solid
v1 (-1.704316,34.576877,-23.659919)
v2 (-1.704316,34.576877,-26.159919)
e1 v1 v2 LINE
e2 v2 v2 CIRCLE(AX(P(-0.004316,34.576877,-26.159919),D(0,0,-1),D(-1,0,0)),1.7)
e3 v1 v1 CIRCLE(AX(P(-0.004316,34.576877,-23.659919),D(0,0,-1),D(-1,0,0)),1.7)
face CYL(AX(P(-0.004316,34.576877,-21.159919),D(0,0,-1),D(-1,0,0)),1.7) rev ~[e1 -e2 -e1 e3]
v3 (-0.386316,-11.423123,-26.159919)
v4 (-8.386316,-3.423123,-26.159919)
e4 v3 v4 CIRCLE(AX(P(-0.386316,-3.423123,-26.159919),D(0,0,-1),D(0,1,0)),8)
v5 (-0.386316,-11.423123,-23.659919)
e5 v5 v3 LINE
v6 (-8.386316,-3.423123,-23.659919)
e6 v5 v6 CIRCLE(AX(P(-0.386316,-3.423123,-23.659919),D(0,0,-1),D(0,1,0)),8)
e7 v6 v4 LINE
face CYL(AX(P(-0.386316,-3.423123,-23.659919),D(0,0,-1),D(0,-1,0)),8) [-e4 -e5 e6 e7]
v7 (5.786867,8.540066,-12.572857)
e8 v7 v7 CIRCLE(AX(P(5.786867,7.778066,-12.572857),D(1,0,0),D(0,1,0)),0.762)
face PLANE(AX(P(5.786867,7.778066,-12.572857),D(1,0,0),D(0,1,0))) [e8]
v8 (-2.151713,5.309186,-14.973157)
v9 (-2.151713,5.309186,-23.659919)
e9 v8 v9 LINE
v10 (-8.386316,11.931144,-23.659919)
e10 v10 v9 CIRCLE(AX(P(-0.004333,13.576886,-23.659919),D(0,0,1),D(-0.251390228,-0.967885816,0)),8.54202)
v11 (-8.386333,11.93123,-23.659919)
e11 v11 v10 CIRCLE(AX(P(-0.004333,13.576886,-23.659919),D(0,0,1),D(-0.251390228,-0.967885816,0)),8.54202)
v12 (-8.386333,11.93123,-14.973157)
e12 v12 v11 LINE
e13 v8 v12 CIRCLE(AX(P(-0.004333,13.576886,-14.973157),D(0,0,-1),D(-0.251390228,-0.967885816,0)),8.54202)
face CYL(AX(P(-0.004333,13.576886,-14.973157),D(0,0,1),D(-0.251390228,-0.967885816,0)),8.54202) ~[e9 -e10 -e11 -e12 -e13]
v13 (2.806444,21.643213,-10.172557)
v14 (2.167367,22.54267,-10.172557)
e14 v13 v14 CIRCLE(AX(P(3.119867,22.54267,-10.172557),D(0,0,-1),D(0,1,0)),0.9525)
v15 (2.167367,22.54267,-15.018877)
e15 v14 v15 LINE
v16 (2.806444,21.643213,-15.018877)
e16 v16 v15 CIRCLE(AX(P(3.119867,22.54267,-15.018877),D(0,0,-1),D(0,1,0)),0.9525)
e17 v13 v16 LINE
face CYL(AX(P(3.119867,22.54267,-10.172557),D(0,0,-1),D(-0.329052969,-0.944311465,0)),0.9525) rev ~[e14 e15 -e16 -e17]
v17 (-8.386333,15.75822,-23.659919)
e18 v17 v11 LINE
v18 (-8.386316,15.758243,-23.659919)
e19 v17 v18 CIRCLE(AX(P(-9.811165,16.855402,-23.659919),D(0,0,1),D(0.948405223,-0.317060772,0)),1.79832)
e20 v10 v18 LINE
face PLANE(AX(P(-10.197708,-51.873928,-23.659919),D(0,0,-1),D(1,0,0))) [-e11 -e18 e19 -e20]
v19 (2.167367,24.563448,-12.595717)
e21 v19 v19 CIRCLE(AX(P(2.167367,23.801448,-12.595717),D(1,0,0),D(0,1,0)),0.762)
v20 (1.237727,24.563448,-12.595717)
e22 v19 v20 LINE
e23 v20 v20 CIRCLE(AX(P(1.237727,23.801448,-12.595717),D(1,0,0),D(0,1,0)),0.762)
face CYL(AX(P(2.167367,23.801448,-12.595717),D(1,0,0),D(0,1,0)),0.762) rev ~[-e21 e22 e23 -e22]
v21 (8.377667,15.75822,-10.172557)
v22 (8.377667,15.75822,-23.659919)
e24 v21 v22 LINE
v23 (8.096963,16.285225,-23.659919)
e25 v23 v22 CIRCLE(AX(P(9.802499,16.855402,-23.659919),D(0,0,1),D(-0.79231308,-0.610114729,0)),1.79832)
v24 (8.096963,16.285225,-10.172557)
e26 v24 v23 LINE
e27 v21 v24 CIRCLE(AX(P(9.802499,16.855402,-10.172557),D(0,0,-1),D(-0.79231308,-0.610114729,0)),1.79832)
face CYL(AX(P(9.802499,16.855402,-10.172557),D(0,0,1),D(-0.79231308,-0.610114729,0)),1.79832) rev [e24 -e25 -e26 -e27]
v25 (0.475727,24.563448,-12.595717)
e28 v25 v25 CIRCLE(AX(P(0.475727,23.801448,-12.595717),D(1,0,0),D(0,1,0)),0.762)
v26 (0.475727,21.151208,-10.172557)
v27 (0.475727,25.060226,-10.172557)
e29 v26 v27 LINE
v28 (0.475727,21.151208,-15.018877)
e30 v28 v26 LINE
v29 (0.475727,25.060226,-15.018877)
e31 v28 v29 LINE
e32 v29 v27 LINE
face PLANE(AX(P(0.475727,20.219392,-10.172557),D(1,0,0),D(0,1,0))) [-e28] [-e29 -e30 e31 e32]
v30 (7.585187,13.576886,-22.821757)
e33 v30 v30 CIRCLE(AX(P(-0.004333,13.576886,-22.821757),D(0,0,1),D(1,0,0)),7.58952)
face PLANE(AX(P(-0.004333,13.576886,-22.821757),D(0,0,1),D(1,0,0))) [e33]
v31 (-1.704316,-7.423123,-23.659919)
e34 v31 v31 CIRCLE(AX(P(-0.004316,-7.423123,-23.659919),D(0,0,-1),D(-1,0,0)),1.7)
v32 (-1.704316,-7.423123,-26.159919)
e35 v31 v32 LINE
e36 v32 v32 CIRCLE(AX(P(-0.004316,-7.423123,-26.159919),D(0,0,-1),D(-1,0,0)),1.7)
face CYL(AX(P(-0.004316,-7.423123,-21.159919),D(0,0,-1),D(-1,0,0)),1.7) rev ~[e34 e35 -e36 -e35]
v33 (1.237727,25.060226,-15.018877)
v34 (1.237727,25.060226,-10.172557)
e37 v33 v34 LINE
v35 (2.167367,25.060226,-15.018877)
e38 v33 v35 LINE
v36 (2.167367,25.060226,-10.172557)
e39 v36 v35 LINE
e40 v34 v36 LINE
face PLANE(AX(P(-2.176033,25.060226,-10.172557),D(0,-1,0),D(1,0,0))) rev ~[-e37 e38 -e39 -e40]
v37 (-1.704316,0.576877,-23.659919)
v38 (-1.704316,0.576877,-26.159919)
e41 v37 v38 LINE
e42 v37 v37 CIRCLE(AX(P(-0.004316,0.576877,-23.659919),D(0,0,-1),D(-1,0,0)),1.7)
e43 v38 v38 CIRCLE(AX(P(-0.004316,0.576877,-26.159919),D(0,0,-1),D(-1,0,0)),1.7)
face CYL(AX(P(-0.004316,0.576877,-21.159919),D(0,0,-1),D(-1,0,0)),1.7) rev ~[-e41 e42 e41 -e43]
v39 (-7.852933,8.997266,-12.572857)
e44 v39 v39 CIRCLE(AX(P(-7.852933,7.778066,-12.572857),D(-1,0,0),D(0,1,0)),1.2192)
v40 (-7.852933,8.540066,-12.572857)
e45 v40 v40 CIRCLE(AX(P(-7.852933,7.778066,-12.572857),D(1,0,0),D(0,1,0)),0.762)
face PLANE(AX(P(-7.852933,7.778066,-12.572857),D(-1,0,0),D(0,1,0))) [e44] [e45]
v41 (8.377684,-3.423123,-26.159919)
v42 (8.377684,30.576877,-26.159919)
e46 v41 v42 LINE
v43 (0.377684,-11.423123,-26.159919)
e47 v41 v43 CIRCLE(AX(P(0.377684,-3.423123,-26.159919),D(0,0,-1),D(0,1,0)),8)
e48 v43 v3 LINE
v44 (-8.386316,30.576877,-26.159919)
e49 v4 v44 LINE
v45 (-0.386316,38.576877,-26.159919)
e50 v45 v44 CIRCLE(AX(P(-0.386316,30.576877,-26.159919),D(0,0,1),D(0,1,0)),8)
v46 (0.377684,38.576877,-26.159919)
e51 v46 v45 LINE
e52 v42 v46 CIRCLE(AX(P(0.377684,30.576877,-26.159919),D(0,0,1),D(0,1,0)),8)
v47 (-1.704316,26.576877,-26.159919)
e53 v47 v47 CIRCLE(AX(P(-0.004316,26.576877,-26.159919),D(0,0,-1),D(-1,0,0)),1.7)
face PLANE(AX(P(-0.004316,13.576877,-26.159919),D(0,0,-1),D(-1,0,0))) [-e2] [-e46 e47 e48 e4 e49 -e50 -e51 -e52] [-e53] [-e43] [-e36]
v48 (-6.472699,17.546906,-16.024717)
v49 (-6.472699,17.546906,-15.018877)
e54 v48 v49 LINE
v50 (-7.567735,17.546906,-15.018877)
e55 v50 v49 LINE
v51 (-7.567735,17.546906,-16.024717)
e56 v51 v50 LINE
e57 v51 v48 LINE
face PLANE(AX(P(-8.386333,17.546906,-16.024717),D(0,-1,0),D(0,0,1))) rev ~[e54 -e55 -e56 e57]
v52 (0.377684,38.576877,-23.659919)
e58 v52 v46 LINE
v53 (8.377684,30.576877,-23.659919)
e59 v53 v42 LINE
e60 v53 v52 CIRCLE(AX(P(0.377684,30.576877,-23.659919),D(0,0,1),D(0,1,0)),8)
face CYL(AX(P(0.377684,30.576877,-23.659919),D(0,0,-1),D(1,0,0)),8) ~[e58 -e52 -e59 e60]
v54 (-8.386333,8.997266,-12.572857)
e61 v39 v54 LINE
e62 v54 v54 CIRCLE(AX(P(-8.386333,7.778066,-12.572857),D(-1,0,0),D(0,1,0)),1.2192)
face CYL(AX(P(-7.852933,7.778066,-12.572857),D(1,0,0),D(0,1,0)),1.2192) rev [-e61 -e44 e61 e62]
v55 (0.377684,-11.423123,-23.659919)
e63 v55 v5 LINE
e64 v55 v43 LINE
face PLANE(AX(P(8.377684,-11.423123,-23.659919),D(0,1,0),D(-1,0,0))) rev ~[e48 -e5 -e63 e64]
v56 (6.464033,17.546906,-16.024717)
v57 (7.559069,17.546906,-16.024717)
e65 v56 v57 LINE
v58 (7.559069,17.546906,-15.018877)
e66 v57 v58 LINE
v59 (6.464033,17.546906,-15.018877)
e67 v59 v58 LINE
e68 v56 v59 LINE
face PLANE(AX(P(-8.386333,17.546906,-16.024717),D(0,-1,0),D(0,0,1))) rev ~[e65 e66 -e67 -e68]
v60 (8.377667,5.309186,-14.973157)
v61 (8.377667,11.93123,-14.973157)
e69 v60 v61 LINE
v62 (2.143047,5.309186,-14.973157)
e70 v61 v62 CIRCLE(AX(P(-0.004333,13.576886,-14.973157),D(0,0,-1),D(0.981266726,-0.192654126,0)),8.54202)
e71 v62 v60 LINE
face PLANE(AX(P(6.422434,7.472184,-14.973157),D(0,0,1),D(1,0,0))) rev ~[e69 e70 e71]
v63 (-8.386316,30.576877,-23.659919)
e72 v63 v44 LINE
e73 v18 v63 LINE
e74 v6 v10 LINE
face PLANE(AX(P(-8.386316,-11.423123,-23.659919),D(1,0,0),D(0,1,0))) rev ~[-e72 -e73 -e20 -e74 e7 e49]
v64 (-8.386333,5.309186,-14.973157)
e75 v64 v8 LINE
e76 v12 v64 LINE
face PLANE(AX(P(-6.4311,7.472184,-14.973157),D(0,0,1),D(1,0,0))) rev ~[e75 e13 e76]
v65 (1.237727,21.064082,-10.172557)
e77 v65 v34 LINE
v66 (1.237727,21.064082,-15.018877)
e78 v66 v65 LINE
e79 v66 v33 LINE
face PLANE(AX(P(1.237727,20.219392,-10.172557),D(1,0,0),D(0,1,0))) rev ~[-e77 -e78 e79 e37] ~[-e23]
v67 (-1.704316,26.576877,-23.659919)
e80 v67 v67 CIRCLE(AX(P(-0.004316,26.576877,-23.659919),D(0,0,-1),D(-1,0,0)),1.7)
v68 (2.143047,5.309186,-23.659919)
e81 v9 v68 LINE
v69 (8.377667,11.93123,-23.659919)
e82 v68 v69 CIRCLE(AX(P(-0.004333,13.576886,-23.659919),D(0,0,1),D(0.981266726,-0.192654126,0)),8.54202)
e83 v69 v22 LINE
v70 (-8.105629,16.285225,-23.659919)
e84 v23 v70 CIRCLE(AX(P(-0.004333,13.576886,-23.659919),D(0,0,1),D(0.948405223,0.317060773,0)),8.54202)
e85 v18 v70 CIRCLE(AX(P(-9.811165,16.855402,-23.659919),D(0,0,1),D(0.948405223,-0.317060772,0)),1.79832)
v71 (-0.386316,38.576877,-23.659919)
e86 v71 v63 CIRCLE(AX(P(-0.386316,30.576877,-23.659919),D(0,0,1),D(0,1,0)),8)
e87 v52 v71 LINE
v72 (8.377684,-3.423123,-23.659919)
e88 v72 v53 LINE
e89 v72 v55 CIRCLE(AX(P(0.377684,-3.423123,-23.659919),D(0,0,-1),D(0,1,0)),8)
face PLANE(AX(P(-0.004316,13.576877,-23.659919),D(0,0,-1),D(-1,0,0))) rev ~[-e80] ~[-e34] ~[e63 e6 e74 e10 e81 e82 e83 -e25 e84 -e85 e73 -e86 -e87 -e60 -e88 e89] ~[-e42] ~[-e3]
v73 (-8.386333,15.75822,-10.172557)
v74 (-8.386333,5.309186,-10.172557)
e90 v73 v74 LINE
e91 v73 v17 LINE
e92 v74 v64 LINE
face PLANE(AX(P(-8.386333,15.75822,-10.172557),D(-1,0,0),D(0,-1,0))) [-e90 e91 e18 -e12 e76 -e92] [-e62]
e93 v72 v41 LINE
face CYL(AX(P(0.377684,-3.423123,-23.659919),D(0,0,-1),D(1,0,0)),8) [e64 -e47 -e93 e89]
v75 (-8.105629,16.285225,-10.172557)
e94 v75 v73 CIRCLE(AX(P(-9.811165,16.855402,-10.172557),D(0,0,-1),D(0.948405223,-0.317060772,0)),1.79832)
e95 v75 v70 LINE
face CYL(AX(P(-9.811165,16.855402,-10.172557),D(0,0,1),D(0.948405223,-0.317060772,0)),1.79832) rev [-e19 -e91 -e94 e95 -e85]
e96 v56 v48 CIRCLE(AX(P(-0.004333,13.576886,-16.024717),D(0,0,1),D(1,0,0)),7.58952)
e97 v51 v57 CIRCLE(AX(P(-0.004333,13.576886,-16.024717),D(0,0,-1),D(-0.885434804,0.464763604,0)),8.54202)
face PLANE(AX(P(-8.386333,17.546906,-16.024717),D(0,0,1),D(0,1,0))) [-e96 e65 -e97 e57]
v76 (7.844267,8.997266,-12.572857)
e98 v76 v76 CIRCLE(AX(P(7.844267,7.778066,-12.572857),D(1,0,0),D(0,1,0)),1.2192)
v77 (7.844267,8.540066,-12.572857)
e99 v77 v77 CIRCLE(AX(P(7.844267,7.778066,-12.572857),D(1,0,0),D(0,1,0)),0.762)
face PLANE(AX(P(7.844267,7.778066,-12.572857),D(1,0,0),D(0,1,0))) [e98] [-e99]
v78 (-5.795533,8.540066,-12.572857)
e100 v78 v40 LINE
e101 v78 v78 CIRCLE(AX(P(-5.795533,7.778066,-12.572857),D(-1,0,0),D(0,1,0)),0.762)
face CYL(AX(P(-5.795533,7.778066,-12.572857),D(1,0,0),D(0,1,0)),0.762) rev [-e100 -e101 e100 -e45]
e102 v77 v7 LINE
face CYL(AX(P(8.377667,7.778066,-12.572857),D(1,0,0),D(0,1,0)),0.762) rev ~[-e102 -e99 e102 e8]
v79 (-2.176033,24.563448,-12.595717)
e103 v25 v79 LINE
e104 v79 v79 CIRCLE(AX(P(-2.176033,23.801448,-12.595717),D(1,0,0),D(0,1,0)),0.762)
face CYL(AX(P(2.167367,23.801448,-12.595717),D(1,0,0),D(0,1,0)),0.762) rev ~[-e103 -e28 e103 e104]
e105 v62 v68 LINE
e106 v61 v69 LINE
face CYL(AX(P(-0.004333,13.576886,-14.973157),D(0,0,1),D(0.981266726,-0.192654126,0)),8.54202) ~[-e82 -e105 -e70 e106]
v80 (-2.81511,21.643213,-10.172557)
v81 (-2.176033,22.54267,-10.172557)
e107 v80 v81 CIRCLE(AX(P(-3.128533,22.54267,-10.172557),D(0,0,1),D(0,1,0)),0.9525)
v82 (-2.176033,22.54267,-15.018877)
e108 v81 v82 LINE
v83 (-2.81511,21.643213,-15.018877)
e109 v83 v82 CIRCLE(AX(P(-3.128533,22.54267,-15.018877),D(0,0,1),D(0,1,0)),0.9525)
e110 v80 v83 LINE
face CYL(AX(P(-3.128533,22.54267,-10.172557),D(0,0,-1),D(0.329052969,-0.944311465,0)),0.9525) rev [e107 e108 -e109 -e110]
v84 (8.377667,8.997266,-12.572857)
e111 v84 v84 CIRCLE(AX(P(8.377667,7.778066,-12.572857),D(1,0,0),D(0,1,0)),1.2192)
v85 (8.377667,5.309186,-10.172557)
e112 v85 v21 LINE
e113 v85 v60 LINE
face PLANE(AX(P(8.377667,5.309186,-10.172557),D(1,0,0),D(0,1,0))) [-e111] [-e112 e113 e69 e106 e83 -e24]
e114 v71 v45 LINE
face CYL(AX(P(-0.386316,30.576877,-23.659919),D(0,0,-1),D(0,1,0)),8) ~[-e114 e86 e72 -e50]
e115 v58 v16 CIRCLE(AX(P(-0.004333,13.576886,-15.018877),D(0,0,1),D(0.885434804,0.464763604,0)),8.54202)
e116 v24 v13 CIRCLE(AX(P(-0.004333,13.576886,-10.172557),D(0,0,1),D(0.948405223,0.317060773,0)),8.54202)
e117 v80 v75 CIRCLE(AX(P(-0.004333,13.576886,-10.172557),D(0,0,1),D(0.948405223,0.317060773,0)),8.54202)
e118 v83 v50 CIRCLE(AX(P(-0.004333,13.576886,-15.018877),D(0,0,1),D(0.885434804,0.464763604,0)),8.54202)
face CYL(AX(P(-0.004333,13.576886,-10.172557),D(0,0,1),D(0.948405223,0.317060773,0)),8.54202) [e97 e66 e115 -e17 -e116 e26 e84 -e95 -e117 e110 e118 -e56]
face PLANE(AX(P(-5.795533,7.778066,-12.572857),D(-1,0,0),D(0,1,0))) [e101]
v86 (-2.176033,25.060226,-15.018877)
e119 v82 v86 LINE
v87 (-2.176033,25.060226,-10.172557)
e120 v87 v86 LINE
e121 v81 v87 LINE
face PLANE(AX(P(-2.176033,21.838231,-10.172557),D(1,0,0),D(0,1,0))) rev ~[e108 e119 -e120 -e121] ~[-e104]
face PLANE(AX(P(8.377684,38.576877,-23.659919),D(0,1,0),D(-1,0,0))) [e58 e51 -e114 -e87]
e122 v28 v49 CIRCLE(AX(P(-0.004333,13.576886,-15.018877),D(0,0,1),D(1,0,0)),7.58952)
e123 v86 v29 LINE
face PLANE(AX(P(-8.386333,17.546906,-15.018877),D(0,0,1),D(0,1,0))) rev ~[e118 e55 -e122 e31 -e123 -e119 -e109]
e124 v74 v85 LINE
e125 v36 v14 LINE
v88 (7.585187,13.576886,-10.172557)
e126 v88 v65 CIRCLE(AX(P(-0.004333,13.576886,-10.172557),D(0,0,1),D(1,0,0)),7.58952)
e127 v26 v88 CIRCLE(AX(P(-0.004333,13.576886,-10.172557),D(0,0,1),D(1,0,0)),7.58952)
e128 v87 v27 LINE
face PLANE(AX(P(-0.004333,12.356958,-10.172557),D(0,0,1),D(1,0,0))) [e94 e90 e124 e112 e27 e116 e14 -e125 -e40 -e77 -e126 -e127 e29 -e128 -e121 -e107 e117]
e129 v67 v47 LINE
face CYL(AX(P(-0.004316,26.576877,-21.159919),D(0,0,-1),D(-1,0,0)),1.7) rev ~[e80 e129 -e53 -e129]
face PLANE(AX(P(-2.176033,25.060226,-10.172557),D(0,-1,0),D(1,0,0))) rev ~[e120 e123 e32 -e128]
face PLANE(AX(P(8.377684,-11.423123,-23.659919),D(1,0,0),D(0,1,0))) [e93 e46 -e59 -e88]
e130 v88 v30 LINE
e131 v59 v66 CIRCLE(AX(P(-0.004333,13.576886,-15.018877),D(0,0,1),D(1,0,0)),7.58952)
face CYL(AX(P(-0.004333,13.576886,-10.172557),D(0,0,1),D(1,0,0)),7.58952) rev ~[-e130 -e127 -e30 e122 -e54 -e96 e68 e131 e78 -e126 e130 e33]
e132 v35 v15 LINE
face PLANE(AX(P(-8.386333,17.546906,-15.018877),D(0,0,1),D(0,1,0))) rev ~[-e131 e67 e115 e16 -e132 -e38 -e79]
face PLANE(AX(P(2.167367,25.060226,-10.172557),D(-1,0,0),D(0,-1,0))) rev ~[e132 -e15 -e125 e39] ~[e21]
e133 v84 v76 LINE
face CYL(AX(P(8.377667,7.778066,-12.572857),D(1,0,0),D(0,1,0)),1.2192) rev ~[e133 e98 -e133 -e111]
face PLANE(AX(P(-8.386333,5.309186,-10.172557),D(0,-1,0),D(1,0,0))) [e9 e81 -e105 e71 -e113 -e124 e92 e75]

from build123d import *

# Parameters (mm, degrees)
BOSS_EXTRUDE1_DEPTH      = 55.499
SKETCH2_R                = 12.6492
CUT_EXTRUDE1_DEPTH       = 21.082
CUT_EXTRUDE2_START       = -47.498
CUT_EXTRUDE2_DEPTH       = 47.498
CUT_EXTRUDE3_DEPTH       = 64.719756461
CUT_EXTRUDE4_DEPTH       = 69.159299334
CUT_EXTRUDE5_DEPTH       = 69.159299334
FILLET1_R                = 4.9911
FILLET2_R                = 4.9911
SKETCH7_R                = 1.27
CUT_EXTRUDE6_DEPTH       = 4.826
CUT_EXTRUDE7_START       = -4.826
SKETCH8_R                = 1.27
CUT_EXTRUDE7_DEPTH       = 4.826
SKETCH9_R                = 1.27
CUT_EXTRUDE8_DEPTH       = 4.318
CUT_EXTRUDE9_START       = -4.318
SKETCH10_R               = 1.27
CUT_EXTRUDE9_DEPTH       = 4.318
SKETCH11_W               = 1.6764
SKETCH11_H               = 7.62
CUT_EXTRUDE10_DEPTH      = 69.159299334
BOSS_EXTRUDE2_DEPTH      = 8.0772
SKETCH13_W               = 1.27
SKETCH13_H               = 8.69888745
CUT_EXTRUDE11_DEPTH      = 8.0772
FILLET3_R                = 1.5875
SKETCH14_R               = 1.27
CUT_EXTRUDE12_DEPTH      = 67.881616192
SKETCH15_R               = 2.032
CUT_EXTRUDE13_DEPTH      = 0.889
CUT_EXTRUDE14_START      = -0.889
SKETCH16_R               = 2.032
CUT_EXTRUDE14_DEPTH      = 0.889
SCALE1_SCALE             = 0.6
CUT_EXTRUDE15_DEPTH      = 51.873928307
CUT_EXTRUDE15_DEPTH_BACK = 51.873928307
SKETCH17_W               = 22.594181605
SKETCH17_H               = 22.052877317
SKETCH18_W               = 16.764
SKETCH18_H               = 50
BOSS_EXTRUDE3_DEPTH      = 2.5
FILLET4_R                = 8
M3_CLEARANCE_HOLE1_D     = 3.4
M3_CLEARANCE_HOLE1_DEPTH = 2.5


with BuildPart() as part:
    # Sketch1 → Boss-Extrude1 (new body)
    with BuildSketch(Plane.XY):
        with BuildLine():
            Line((-13.97, 0), (13.97, 0))
            Line((13.97, 0), (13.97, 17.415057792))
            ThreePointArc((13.97, 17.415057792), (13.699370909, 17.834675567), (13.502160632, 18.293399109))
            ThreePointArc((13.502160632, 18.293399109), (0, 28.0162), (-13.502160632, 18.293399109))
            ThreePointArc((-13.502160632, 18.293399109), (-13.699370909, 17.834675567), (-13.97, 17.415057792))
            Line((-13.97, 17.415057792), (-13.97, 0))
        make_face()
    extrude(amount=-BOSS_EXTRUDE1_DEPTH)

    # Sketch2 → Cut-Extrude1 (cut)
    with BuildSketch(Plane.XY):
        with Locations((0, 13.7795)):
            Circle(SKETCH2_R)
    extrude(amount=-CUT_EXTRUDE1_DEPTH, mode=Mode.SUBTRACT)

    # Sketch3 → Cut-Extrude2 (cut)
    with BuildSketch(Plane(origin=(0, 0, -55.499), x_dir=(-1, 0, 0), z_dir=(0, 0, -1)).offset(CUT_EXTRUDE2_START)):
        with BuildLine():
            Line((-13.97, 0), (-13.97, 11.036741008))
            ThreePointArc((-13.97, 11.036741008), (-10.365518606, 4.020419566), (-3.578967259, 0))
            Line((-3.578967259, 0), (-13.97, 0))
        make_face()
        with BuildLine():
            Line((13.97, 0), (3.578967259, 0))
            ThreePointArc((3.578967259, 0), (10.365518606, 4.020419566), (13.97, 11.036741008))
            Line((13.97, 11.036741008), (13.97, 0))
        make_face()
    extrude(amount=CUT_EXTRUDE2_DEPTH, mode=Mode.SUBTRACT)

    # Sketch4 → Cut-Extrude3 (cut, through all)
    with BuildSketch(Plane(origin=(0, 0, 0), x_dir=(1, 0, 0), z_dir=(0, 1, 0))):
        with BuildLine():
            Line((-10.033, 46.5201), (-10.033, 26.4795))
            ThreePointArc((-10.033, 26.4795), (-8.861280678, 23.650719322), (-6.0325, 22.479))
            Line((-6.0325, 22.479), (6.0325, 22.479))
            ThreePointArc((6.0325, 22.479), (8.861280678, 23.650719322), (10.033, 26.4795))
            Line((10.033, 26.4795), (10.033, 46.5201))
            ThreePointArc((10.033, 46.5201), (8.861280678, 49.348880678), (6.0325, 50.5206))
            Line((6.0325, 50.5206), (-6.0325, 50.5206))
            ThreePointArc((-6.0325, 50.5206), (-8.861280678, 49.348880678), (-10.033, 46.5201))
        make_face()
    extrude(amount=CUT_EXTRUDE3_DEPTH, mode=Mode.SUBTRACT)

    # Sketch5 → Cut-Extrude4 (cut, through all)
    with BuildSketch(Plane(origin=(13.97, 0, 0), x_dir=(0, 0, -1), z_dir=(1, 0, 0))):
        with BuildLine():
            Line((22.479, 30.552887158), (22.479, 23.126200001))
            ThreePointArc((22.479, 23.126200001), (23.650572876, 20.297772876), (26.479000001, 19.1262))
            Line((26.479000001, 19.1262), (58.380075255, 19.1262))
            Line((58.380075255, 19.1262), (58.380075255, 30.552887158))
            Line((58.380075255, 30.552887158), (22.479, 30.552887158))
        make_face()
    extrude(amount=-CUT_EXTRUDE4_DEPTH, mode=Mode.SUBTRACT)

    # Sketch6 → Cut-Extrude5 (cut, through all)
    with BuildSketch(Plane(origin=(13.97, 0, 0), x_dir=(0, 0, -1), z_dir=(1, 0, 0))):
        with BuildLine():
            Line((26.479000001, 5.7404), (41.275, 5.7404))
            Line((41.275, 5.7404), (56.850797395, 10.801283358))
            Line((56.850797395, 10.801283358), (56.850797395, -1.681383137))
            Line((56.850797395, -1.681383137), (22.479, -1.681383137))
            Line((22.479, -1.681383137), (22.479, 1.740399999))
            ThreePointArc((22.479, 1.740399999), (23.650572876, 4.568827124), (26.479000001, 5.7404))
        make_face()
    extrude(amount=-CUT_EXTRUDE5_DEPTH, mode=Mode.SUBTRACT)

    # Fillet1
    fillet1_edges = [part.edges().sort_by_distance(p)[0] for p in [
        (0, 19.1262, -55.499),
    ]]
    fillet(fillet1_edges, radius=FILLET1_R)

    # Fillet2
    fillet2_edges = [part.edges().sort_by_distance(p)[0] for p in [
        (0, 10.362057759, -55.499),
    ]]
    fillet(fillet2_edges, radius=FILLET2_R)

    # Sketch7 → Cut-Extrude6 (cut)
    with BuildSketch(Plane(origin=(13.97, 0, 0), x_dir=(0, 0, -1), z_dir=(1, 0, 0))):
        with Locations(Location((50.5079, 14.061702085, 0), (0, 0, 90))):
            Circle(SKETCH7_R)
    extrude(amount=-CUT_EXTRUDE6_DEPTH, mode=Mode.SUBTRACT)

    # Sketch8 → Cut-Extrude7 (cut)
    with BuildSketch(Plane.ZY.offset(13.97).offset(CUT_EXTRUDE7_START)):
        with Locations(Location((-50.5079, 14.061702085, 0), (0, 0, 90))):
            Circle(SKETCH8_R)
    extrude(amount=CUT_EXTRUDE7_DEPTH, mode=Mode.SUBTRACT)

    # Sketch9 → Cut-Extrude8 (cut)
    with BuildSketch(Plane(origin=(13.97, 0, 0), x_dir=(0, 0, -1), z_dir=(1, 0, 0))):
        with Locations(Location((4.0005, 4.1148, 0), (0, 0, 90))):
            Circle(SKETCH9_R)
    extrude(amount=-CUT_EXTRUDE8_DEPTH, mode=Mode.SUBTRACT)

    # Sketch10 → Cut-Extrude9 (cut)
    with BuildSketch(Plane.ZY.offset(13.97).offset(CUT_EXTRUDE9_START)):
        with Locations(Location((-4.0005, 4.1148, 0), (0, 0, 90))):
            Circle(SKETCH10_R)
    extrude(amount=CUT_EXTRUDE9_DEPTH, mode=Mode.SUBTRACT)

    # Sketch11 → Cut-Extrude10 (cut, through all)
    with BuildSketch(Plane.ZY.offset(13.97)):
        with Locations((-8.9154, 24.2062)):
            Rectangle(SKETCH11_W, SKETCH11_H)
    extrude(amount=-CUT_EXTRUDE10_DEPTH, mode=Mode.SUBTRACT)

    # Sketch12 → Boss-Extrude2 (add)
    with BuildSketch(Plane.XY):
        with BuildLine():
            Line((-3.6195, 32.9184), (3.6195, 32.9184))
            Line((3.6195, 32.9184), (3.6195, 27.548408695))
            ThreePointArc((3.6195, 27.548408695), (0, 28.0162), (-3.6195, 27.548408695))
            Line((-3.6195, 27.548408695), (-3.6195, 32.9184))
        make_face()
    extrude(amount=-BOSS_EXTRUDE2_DEPTH)

    # Sketch13 → Cut-Extrude11 (cut)
    with BuildSketch(Plane.XY):
        with Locations((1.4351, 29.199787514)):
            Rectangle(SKETCH13_W, SKETCH13_H)
    extrude(amount=-CUT_EXTRUDE11_DEPTH, mode=Mode.SUBTRACT)

    # Fillet3
    fillet3_edges = [part.edges().sort_by_distance(p)[0] for p in [
        (3.6195, 27.548408695, -4.0386),
        (-3.6195, 27.548408695, -4.0386),
    ]]
    fillet(fillet3_edges, radius=FILLET3_R)

    # Sketch14 → Cut-Extrude12 (cut, through all)
    with BuildSketch(Plane(origin=(3.6195, 0, 0), x_dir=(0, 0, -1), z_dir=(1, 0, 0))):
        with Locations(Location((4.0386, 30.820436744, 0), (0, 0, 90))):
            Circle(SKETCH14_R)
    extrude(amount=-CUT_EXTRUDE12_DEPTH, mode=Mode.SUBTRACT)

    # Sketch15 → Cut-Extrude13 (cut)
    with BuildSketch(Plane(origin=(13.97, 0, 0), x_dir=(0, 0, -1), z_dir=(1, 0, 0))):
        with Locations(Location((4.0005, 4.1148, 0), (0, 0, 90))):
            Circle(SKETCH15_R)
        with Locations(Location((50.5079, 14.061702085, 0), (0, 0, 90))):
            Circle(SKETCH15_R)
    extrude(amount=-CUT_EXTRUDE13_DEPTH, mode=Mode.SUBTRACT)

    # Sketch16 → Cut-Extrude14 (cut)
    with BuildSketch(Plane.ZY.offset(13.97).offset(CUT_EXTRUDE14_START)):
        with Locations(Location((-50.5079, 14.061702085, 0), (0, 0, 90))):
            Circle(SKETCH16_R)
        with Locations(Location((-4.0005, 4.1148, 0), (0, 0, 90))):
            Circle(SKETCH16_R)
    extrude(amount=CUT_EXTRUDE14_DEPTH, mode=Mode.SUBTRACT)


with BuildPart() as part_1:
    # Scale1: scaled about (-0.010832485, 13.272964488, -25.431393294)
    add(part.part.scale(SCALE1_SCALE).moved(Location((-0.004332994, 5.309185795, -10.172557318))))

    # Sketch17 → Cut-Extrude15 (cut, two sides: drawn at the far end of the back side and taken through both)
    with BuildSketch(Plane(origin=(0, 0, 0), x_dir=(1, 0, 0), z_dir=(0, 1, 0)).offset(-CUT_EXTRUDE15_DEPTH_BACK)):
        with Locations((1.099382363, 34.686357372)):
            Rectangle(SKETCH17_W, SKETCH17_H)
    extrude(amount=CUT_EXTRUDE15_DEPTH + CUT_EXTRUDE15_DEPTH_BACK, mode=Mode.SUBTRACT)

    # Sketch18 → Boss-Extrude3 (add)
    with BuildSketch(Plane(origin=(0, 0, -23.659918713), x_dir=(-1, 0, 0), z_dir=(0, 0, -1))):
        with Locations((0.004315992, 13.576876814)):
            Rectangle(SKETCH18_W, SKETCH18_H)
    extrude(amount=BOSS_EXTRUDE3_DEPTH)

    # Fillet4
    fillet4_edges = [part_1.edges().sort_by_distance(p)[0] for p in [
        (8.377684008, 38.576876814, -24.909918713),
        (8.377684008, -11.423123186, -24.909918713),
        (-8.386315992, -11.423123186, -24.909918713),
        (-8.386315992, 38.576876814, -24.909918713),
    ]]
    fillet(fillet4_edges, radius=FILLET4_R)

    # M3 Clearance Hole1
    with Locations(Plane.XY.offset(-23.659918713)):
        with Locations((-0.004315992, 26.576876814), (-0.004315992, -7.423123186), (-0.004315992, 0.576876814), (-0.004315992, 34.576876814)):
            Hole(M3_CLEARANCE_HOLE1_D / 2, depth=M3_CLEARANCE_HOLE1_DEPTH)


solid = part_1.part
